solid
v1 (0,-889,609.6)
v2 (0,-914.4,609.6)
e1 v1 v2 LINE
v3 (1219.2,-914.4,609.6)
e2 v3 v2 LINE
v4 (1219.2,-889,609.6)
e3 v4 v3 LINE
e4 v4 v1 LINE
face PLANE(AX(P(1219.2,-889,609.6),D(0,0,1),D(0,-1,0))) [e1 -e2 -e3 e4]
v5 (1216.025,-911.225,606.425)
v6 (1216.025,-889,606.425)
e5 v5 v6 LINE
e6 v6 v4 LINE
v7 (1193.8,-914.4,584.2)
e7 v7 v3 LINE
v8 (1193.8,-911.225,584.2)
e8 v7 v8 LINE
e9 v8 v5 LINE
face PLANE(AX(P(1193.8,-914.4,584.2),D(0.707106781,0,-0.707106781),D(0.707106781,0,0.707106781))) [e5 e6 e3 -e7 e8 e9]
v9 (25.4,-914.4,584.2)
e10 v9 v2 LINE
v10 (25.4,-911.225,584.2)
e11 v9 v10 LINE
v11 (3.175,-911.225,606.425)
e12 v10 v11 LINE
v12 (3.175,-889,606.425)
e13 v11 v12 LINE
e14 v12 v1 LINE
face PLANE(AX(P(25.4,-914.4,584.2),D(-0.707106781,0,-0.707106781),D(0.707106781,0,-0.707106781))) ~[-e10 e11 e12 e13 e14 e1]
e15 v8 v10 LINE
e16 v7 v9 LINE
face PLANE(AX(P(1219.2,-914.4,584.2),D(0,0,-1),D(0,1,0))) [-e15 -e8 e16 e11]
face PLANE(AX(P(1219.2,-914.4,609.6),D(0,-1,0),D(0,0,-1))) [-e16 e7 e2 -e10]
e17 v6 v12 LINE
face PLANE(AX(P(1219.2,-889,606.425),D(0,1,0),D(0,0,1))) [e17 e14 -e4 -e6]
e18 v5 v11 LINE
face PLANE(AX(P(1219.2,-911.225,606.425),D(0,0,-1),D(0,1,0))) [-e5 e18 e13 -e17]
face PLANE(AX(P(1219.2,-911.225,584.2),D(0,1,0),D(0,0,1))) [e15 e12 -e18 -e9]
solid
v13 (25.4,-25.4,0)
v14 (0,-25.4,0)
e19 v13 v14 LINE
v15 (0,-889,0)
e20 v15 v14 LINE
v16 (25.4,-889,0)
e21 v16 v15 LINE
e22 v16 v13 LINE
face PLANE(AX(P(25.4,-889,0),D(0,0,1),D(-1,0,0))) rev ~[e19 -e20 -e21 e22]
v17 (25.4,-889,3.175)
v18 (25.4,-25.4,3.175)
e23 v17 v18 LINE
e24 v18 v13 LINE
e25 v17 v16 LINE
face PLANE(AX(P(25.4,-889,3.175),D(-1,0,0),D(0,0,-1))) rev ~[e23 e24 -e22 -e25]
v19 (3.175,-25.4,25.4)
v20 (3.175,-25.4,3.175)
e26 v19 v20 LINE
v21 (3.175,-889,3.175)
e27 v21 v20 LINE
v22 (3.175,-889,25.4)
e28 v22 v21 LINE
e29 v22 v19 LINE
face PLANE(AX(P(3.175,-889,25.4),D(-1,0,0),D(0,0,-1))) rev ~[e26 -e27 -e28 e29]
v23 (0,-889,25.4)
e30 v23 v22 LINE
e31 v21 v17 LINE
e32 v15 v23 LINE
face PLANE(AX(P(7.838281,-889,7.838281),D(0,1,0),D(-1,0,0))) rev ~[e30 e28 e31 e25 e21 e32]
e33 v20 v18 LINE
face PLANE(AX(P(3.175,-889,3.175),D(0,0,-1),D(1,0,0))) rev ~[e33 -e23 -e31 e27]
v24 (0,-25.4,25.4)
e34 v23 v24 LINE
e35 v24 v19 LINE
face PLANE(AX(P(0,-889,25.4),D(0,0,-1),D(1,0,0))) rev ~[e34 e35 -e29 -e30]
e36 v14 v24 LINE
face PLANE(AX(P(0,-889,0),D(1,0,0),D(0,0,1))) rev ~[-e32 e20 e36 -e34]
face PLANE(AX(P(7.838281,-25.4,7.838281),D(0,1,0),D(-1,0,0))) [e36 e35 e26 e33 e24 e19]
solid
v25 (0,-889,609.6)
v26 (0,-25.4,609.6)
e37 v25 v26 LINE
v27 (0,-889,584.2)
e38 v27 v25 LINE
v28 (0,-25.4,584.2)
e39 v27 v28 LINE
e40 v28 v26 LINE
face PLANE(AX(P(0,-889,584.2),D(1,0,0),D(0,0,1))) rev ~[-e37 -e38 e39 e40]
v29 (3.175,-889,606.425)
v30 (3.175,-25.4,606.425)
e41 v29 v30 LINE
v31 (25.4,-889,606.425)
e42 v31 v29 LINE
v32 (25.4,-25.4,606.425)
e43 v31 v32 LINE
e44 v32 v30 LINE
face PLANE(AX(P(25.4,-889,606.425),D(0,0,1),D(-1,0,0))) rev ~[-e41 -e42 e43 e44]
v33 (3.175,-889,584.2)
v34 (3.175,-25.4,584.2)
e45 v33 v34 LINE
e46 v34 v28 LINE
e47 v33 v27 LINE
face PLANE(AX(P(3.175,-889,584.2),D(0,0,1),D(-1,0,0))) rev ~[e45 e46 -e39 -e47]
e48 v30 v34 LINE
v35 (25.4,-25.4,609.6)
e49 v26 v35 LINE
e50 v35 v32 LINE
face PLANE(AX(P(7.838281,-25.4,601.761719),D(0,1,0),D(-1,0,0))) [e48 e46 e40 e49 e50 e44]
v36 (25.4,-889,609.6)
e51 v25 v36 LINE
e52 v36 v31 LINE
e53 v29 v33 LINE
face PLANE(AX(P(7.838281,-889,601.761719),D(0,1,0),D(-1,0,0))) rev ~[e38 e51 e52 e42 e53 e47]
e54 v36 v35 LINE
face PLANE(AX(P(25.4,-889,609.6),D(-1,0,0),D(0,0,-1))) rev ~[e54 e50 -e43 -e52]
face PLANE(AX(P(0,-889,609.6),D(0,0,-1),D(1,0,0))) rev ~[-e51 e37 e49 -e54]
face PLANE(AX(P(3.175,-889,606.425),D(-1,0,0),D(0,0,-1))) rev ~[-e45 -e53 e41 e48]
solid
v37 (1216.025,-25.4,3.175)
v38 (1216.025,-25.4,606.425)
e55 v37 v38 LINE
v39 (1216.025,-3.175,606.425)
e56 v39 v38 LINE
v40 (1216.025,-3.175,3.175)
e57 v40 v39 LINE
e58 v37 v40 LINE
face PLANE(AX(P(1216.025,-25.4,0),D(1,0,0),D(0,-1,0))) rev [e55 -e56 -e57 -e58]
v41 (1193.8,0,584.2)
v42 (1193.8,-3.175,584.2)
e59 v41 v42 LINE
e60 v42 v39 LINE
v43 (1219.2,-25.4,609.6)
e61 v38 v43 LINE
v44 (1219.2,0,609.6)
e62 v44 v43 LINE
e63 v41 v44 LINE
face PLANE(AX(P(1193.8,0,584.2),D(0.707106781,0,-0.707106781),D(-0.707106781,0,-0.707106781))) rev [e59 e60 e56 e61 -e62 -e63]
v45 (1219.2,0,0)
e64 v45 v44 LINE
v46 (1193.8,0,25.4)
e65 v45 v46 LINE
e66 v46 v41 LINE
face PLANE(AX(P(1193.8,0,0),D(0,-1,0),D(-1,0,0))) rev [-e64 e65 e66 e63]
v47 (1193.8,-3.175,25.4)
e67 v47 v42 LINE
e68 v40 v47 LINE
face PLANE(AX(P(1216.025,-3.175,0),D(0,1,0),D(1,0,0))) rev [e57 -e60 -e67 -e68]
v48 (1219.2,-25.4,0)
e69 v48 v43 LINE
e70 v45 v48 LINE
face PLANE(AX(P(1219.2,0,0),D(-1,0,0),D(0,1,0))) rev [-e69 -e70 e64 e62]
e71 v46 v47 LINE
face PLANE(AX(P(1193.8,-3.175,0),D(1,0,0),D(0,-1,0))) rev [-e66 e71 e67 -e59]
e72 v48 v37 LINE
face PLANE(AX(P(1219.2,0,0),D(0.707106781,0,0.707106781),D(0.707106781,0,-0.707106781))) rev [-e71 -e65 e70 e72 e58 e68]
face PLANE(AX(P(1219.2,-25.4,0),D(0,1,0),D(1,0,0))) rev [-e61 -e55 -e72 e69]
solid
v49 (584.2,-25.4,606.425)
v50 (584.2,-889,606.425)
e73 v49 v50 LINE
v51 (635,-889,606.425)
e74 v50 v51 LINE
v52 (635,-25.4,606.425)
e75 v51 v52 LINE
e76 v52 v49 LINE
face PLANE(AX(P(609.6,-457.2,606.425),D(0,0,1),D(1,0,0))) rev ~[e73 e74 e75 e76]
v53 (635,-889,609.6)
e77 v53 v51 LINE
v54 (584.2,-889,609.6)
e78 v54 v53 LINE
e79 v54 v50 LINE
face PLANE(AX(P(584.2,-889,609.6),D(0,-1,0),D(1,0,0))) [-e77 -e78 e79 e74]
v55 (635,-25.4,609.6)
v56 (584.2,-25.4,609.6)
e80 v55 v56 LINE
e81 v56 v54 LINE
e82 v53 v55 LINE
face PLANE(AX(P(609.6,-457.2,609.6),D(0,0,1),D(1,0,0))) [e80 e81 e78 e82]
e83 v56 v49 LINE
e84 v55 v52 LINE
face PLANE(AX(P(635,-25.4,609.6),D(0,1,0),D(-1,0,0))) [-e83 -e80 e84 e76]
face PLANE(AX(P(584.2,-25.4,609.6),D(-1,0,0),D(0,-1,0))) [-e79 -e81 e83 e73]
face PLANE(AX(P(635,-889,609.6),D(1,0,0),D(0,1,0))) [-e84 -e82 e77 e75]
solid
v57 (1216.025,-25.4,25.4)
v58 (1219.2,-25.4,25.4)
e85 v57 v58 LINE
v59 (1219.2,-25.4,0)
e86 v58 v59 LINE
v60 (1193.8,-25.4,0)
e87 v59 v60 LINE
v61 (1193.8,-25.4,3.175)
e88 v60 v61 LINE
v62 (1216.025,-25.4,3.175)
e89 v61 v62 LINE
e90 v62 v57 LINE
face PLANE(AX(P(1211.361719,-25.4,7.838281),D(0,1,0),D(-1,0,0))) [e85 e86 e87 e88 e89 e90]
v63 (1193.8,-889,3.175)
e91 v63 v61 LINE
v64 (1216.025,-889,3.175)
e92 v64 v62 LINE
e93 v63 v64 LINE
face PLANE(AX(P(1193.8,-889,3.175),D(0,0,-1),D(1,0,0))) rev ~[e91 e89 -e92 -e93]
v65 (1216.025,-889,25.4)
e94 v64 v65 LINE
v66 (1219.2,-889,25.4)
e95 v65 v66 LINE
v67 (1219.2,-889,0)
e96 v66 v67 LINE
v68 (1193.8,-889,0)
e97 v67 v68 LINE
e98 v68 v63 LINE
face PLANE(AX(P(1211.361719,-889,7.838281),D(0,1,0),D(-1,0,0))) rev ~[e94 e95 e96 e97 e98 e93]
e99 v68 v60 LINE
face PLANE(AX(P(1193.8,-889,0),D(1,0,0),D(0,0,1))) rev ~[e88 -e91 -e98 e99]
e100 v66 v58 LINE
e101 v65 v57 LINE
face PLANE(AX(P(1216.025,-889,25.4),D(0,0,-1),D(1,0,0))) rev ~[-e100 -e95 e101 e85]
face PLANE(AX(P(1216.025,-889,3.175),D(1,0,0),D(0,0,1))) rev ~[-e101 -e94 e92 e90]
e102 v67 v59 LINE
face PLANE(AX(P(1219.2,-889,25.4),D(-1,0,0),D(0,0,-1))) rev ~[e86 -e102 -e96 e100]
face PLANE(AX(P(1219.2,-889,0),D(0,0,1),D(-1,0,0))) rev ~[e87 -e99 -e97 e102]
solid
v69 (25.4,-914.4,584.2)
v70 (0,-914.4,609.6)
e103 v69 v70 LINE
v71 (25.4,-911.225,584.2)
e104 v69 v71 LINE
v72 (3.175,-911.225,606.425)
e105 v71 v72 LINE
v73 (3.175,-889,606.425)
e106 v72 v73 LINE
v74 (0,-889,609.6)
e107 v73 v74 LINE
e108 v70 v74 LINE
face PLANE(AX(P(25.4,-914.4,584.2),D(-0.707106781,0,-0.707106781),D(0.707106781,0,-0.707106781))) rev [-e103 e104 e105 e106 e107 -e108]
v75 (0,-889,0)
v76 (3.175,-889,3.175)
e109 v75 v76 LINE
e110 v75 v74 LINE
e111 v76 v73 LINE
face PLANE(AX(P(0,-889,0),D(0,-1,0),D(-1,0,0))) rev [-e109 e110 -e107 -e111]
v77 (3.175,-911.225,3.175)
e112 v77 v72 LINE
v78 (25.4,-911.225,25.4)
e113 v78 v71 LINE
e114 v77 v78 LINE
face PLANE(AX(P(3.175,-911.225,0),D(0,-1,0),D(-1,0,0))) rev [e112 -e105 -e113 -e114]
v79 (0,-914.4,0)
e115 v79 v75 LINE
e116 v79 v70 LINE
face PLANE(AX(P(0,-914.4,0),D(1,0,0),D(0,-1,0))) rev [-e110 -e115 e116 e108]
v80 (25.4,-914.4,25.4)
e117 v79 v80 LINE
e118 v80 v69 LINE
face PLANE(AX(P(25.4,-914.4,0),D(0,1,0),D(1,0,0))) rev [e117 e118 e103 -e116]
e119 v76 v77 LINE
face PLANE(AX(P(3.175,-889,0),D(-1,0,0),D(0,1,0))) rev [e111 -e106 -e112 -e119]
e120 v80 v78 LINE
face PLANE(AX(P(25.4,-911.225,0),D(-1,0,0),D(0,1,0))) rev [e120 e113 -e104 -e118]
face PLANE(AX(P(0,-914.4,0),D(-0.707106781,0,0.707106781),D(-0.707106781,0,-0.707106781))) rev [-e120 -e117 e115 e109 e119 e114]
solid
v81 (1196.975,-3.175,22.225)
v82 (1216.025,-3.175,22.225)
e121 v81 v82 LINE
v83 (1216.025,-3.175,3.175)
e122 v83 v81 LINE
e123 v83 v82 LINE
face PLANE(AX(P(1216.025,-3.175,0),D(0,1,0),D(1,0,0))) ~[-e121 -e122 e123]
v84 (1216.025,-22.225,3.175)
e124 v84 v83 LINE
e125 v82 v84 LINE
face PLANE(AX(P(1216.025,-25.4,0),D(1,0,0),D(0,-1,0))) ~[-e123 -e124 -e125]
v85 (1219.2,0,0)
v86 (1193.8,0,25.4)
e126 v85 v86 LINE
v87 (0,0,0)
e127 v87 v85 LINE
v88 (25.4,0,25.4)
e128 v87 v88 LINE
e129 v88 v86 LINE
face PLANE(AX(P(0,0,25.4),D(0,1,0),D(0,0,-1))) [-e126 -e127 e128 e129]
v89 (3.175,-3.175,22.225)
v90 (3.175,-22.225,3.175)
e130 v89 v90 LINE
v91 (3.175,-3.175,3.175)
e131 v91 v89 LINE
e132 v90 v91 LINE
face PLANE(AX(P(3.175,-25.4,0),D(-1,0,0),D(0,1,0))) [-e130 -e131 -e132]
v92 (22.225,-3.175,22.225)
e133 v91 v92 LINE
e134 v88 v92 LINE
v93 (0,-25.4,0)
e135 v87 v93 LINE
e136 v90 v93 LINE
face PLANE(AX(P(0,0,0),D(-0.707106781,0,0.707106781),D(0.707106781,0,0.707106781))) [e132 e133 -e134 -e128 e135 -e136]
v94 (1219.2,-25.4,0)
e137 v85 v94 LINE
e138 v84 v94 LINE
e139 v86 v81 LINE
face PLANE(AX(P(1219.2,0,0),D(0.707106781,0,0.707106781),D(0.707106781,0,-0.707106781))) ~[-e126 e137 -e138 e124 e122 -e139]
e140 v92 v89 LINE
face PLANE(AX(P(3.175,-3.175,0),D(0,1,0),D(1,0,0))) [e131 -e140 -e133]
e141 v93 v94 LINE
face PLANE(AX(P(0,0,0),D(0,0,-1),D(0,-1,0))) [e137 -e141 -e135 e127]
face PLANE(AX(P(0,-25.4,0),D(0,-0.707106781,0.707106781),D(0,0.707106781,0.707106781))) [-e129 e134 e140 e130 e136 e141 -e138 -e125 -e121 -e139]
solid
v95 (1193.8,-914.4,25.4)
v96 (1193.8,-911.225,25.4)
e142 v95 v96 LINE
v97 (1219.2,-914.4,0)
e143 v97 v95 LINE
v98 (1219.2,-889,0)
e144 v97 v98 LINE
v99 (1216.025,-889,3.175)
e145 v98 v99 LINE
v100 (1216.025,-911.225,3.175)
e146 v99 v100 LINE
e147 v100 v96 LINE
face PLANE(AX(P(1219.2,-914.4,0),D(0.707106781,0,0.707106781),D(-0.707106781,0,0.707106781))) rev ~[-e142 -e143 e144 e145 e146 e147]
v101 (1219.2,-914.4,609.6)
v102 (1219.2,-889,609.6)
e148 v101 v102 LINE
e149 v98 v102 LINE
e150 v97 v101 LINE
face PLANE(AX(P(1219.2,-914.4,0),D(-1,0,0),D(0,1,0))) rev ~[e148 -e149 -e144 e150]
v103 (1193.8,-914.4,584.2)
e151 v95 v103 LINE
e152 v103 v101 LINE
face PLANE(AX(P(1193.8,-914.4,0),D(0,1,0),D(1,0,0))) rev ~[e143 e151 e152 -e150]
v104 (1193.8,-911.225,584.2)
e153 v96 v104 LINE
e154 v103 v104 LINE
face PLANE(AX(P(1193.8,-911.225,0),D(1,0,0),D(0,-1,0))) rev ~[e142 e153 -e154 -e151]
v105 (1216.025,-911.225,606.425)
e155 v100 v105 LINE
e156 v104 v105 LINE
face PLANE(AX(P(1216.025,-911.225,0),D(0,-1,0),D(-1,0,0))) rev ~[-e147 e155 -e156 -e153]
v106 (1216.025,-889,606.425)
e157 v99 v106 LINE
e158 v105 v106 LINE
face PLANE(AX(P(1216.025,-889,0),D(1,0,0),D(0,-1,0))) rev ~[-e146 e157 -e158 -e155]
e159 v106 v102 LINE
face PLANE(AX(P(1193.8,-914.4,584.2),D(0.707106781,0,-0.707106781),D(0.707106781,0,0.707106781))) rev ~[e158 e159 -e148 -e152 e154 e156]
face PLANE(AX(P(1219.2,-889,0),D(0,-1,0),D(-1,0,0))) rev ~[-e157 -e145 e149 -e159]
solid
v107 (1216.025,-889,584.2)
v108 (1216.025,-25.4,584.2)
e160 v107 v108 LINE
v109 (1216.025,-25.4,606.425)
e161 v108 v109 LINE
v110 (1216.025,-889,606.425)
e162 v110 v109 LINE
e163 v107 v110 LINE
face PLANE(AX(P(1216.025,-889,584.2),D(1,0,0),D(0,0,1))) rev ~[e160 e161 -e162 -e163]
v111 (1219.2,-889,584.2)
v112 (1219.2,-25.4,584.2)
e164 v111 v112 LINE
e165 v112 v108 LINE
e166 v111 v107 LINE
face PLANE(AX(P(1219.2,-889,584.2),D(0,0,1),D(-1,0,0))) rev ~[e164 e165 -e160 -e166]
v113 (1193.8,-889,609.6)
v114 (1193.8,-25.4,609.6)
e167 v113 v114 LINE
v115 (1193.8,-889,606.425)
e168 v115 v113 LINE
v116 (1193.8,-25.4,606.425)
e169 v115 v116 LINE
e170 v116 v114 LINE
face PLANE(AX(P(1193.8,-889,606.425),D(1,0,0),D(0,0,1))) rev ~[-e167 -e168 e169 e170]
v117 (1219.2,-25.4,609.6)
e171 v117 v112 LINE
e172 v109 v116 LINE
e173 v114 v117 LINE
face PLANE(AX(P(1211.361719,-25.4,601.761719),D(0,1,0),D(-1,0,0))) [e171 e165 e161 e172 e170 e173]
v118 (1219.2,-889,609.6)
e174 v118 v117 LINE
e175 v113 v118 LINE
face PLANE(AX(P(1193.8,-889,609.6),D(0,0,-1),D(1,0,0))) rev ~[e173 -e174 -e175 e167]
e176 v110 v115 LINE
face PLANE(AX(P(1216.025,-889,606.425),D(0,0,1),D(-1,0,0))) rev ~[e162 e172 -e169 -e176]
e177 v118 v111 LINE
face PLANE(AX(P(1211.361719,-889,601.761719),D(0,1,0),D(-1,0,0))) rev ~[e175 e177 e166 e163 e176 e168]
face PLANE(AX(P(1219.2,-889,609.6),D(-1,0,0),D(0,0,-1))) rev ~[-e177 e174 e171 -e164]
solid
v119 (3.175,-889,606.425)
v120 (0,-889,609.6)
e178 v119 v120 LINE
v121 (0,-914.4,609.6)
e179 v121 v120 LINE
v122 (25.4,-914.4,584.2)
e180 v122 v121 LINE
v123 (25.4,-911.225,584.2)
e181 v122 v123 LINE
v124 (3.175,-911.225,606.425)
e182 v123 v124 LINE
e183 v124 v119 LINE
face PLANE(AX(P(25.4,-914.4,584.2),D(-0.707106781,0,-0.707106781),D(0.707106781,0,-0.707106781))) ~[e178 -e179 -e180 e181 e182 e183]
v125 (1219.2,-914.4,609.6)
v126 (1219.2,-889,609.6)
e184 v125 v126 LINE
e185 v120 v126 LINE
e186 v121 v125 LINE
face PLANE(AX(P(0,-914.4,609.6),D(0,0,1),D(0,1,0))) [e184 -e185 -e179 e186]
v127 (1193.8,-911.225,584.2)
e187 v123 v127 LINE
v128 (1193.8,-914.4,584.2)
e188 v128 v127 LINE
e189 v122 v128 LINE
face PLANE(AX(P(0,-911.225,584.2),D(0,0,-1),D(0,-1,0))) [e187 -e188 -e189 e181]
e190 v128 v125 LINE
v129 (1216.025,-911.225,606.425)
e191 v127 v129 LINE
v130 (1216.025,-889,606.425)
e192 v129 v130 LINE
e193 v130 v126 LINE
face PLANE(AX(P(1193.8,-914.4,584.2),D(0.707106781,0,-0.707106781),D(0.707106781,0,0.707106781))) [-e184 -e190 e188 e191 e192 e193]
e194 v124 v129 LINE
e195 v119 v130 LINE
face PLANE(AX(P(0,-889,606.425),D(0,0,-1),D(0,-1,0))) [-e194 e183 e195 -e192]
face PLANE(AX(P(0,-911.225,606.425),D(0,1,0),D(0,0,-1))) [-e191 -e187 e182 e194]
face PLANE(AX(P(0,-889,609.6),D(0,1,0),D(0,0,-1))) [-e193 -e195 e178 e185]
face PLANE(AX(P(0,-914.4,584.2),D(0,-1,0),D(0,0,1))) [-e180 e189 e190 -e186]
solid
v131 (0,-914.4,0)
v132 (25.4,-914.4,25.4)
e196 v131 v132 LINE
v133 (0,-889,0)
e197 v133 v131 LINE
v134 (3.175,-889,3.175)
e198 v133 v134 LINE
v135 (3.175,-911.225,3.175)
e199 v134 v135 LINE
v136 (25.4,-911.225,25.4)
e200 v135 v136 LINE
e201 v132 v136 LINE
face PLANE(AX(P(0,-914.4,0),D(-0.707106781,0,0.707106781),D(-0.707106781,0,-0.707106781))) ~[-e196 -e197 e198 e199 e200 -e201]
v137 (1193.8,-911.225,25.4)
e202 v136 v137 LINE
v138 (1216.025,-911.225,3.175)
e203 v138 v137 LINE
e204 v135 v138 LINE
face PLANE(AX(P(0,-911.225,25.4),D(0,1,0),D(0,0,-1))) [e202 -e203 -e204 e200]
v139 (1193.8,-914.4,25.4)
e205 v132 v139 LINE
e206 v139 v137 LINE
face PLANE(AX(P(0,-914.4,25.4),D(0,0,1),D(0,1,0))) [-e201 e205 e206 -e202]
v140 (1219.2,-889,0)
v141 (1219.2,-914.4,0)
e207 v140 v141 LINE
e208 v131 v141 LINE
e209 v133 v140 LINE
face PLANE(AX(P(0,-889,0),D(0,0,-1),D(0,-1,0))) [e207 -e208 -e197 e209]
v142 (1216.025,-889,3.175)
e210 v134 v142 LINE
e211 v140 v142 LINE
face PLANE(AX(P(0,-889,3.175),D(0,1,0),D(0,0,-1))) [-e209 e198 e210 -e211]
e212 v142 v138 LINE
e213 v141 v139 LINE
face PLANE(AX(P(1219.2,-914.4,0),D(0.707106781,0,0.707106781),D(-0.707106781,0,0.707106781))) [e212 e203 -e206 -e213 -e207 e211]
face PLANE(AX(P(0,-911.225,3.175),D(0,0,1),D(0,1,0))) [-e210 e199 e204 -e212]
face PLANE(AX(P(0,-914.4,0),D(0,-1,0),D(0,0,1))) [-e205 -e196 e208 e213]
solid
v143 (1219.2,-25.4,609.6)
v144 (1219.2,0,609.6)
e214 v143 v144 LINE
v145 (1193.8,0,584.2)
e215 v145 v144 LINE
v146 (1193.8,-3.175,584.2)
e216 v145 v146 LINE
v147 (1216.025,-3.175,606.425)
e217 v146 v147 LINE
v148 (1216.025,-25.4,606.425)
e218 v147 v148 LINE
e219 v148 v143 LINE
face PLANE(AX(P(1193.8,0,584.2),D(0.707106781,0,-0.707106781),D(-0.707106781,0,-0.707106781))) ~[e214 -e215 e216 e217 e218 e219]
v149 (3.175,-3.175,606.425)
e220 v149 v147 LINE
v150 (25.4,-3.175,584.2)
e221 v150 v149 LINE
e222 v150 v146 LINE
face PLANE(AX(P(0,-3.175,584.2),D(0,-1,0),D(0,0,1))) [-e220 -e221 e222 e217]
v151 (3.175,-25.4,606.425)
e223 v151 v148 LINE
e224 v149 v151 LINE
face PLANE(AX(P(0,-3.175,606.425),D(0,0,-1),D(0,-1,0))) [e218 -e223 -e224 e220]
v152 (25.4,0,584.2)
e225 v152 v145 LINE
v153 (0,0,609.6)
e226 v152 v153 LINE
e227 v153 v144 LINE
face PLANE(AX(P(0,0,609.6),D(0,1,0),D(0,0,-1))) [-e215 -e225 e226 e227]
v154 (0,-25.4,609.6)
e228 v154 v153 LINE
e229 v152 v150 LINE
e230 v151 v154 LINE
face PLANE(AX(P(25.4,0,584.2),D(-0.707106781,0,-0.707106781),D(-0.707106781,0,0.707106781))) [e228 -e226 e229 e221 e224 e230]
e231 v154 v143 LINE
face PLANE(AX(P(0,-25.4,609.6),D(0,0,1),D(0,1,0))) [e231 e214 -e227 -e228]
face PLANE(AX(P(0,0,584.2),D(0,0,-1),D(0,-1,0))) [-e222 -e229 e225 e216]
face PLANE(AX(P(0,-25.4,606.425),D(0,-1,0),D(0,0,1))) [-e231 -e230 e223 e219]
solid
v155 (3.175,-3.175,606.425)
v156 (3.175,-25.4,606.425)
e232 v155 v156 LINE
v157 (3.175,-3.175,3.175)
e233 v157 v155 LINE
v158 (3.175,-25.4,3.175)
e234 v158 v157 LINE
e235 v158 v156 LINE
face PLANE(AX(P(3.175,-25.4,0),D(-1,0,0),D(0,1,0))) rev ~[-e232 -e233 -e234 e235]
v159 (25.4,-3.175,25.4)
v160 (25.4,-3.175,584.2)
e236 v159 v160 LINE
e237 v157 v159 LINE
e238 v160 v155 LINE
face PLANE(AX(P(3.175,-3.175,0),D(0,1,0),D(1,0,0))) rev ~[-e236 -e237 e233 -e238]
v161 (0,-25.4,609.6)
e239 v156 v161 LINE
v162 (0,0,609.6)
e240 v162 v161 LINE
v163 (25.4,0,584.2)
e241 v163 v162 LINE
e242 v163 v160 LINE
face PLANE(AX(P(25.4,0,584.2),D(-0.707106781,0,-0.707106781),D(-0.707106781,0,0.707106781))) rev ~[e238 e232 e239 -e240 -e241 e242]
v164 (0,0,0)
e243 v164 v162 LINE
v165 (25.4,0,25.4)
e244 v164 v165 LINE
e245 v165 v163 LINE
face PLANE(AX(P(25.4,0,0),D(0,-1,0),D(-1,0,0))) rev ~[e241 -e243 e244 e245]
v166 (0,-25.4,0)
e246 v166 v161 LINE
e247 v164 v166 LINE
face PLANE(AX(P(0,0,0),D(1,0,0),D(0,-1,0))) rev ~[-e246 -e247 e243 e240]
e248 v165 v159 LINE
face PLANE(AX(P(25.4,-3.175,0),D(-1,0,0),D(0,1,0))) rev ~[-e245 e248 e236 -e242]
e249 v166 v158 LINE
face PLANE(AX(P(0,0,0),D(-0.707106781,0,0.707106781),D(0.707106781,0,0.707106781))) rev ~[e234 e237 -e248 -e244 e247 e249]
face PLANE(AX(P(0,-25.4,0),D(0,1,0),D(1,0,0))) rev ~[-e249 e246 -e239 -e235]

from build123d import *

# Parameters (mm, degrees)
F1_DEPTH  = 609.6
F3_DEPTH  = 25.401
F9_DEPTH  = 1219.2
F12_DEPTH = 1219.2
F15_DEPTH = 1219.2
F18_DEPTH = 863.6
F20_DEPTH = 3.175


with BuildPart() as f1:
    # F0 (on Top) → F1 (new body)
    with BuildSketch(Plane.XY):
        Polygon((25.4, 0), (0, 0), (0, -25.4), (3.175, -25.4), (3.175, -3.175), (25.4, -3.175), align=None)
    extrude(amount=F1_DEPTH)

    # F2 (on face) → F3 (cut, through all)
    with BuildSketch(Plane(origin=(0, 0, 0), x_dir=(-1, 0, 0), z_dir=(0, 1, 0))):
        Polygon((-25.4, 584.2), (0, 609.6), (-25.4, 609.6), align=None)
        Polygon((-25.4, 0), (0, 0), (-25.4, 25.4), align=None)
    extrude(amount=-F3_DEPTH, mode=Mode.SUBTRACT)


with BuildPart() as f4_1:
    # F4: instance of F1
    add(f1.part.mirror(Plane(origin=(25.4, -1.5875, 304.8), x_dir=(0, 1, 0), z_dir=(1, 0, 0))))


with BuildPart() as f4_1_1:
    # F5: moved
    add(f4_1.part.moved(Location((1168.4, 0, 0))))


with BuildPart() as f7_1:
    # F7: instance of F1
    add(f1.part.mirror(Plane.XZ.offset(457.2)))


with BuildPart() as f7_2:
    # F7: instance of F4_1
    add(f4_1_1.part.mirror(Plane.XZ.offset(457.2)))


with BuildPart() as f9:
    # F8 (on face) → F9 (new body, through all)
    with BuildSketch(Plane(origin=(0, 0, 0), x_dir=(0, -1, 0), z_dir=(-1, 0, 0))):
        Polygon((25.4, 606.425), (25.4, 609.6), (0, 609.6), (0, 584.2), (3.175, 584.2), (3.175, 606.425), align=None)
    extrude(amount=-F9_DEPTH)

    # F10: cut F4_1, F1
    add(f4_1_1.part, mode=Mode.SUBTRACT)
    add(f1.part, mode=Mode.SUBTRACT)


with BuildPart() as f9b:
    # F8 (on face) → F9, piece 2 (new body, through all)
    with BuildSketch(Plane(origin=(0, 0, 0), x_dir=(0, -1, 0), z_dir=(-1, 0, 0))):
        Polygon((0, 0), (25.4, 0), (0, 25.4), align=None)
    extrude(amount=-F9_DEPTH)

    # F10: cut F4_1, F1
    add(f4_1_1.part, mode=Mode.SUBTRACT)
    add(f1.part, mode=Mode.SUBTRACT)


with BuildPart() as f12:
    # F11 (on face) → F12 (new body, through all)
    with BuildSketch(Plane(origin=(0, 0, 0), x_dir=(0, -1, 0), z_dir=(-1, 0, 0))):
        Polygon((889, 3.175), (889, 0), (914.4, 0), (914.4, 25.4), (911.225, 25.4), (911.225, 3.175), align=None)
    extrude(amount=-F12_DEPTH)

    # F13: cut F7_1, F7_2
    add(f7_1.part, mode=Mode.SUBTRACT)
    add(f7_2.part, mode=Mode.SUBTRACT)


with BuildPart() as f12b:
    # F11 (on face) → F12, piece 2 (new body, through all)
    with BuildSketch(Plane(origin=(0, 0, 0), x_dir=(0, -1, 0), z_dir=(-1, 0, 0))):
        Polygon((914.4, 609.6), (889, 609.6), (889, 606.425), (911.225, 606.425), (911.225, 584.2), (914.4, 584.2), align=None)
    extrude(amount=-F12_DEPTH)

    # F13: cut F7_1, F7_2
    add(f7_1.part, mode=Mode.SUBTRACT)
    add(f7_2.part, mode=Mode.SUBTRACT)


with BuildPart() as f15:
    # F14 (on face) → F15 (new body, through all)
    with BuildSketch(Plane.YZ.offset(1219.2)):
        Polygon((-889, 606.425), (-889, 609.6), (-914.4, 609.6), (-914.4, 584.2), (-911.225, 584.2), (-911.225, 606.425), align=None)
    extrude(amount=-F15_DEPTH)

    # F16: cut F7_2, F7_1
    add(f7_2.part, mode=Mode.SUBTRACT)
    add(f7_1.part, mode=Mode.SUBTRACT)


with BuildPart() as f18:
    # F17 (on face) → F18 (new body, through all)
    with BuildSketch(Plane(origin=(0, -889, 0), x_dir=(-1, 0, 0), z_dir=(0, 1, 0))):
        Polygon((0, 609.6), (-25.4, 609.6), (-25.4, 606.425), (-3.175, 606.425), (-3.175, 584.2), (0, 584.2), align=None)
    extrude(amount=F18_DEPTH)


with BuildPart() as f18b:
    # F17 (on face) → F18, piece 2 (new body, through all)
    with BuildSketch(Plane(origin=(0, -889, 0), x_dir=(-1, 0, 0), z_dir=(0, 1, 0))):
        Polygon((-1193.8, 606.425), (-1193.8, 609.6), (-1219.2, 609.6), (-1219.2, 584.2), (-1216.025, 584.2), (-1216.025, 606.425), align=None)
    extrude(amount=F18_DEPTH)


with BuildPart() as f18c:
    # F17 (on face) → F18, piece 3 (new body, through all)
    with BuildSketch(Plane(origin=(0, -889, 0), x_dir=(-1, 0, 0), z_dir=(0, 1, 0))):
        Polygon((-1219.2, 25.4), (-1219.2, 0), (-1193.8, 0), (-1193.8, 3.175), (-1216.025, 3.175), (-1216.025, 25.4), align=None)
    extrude(amount=F18_DEPTH)


with BuildPart() as f18d:
    # F17 (on face) → F18, piece 4 (new body, through all)
    with BuildSketch(Plane(origin=(0, -889, 0), x_dir=(-1, 0, 0), z_dir=(0, 1, 0))):
        Polygon((-25.4, 0), (0, 0), (0, 25.4), (-3.175, 25.4), (-3.175, 3.175), (-25.4, 3.175), align=None)
    extrude(amount=F18_DEPTH)


with BuildPart() as f20:
    # F19 (on face) → F20 (new body, through all)
    with BuildSketch(Plane.XY.offset(609.6)):
        Polygon((635.0000000003, -25.4), (609.6000000006, -25.4), (584.2000000003, -25.4), (584.2000000003, -889), (635.0000000003, -889), align=None)
    extrude(amount=-F20_DEPTH)


solid = Compound([f1.part, f4_1_1.part, f7_1.part, f7_2.part, f9.part, f9b.part, f12.part, f12b.part, f15.part, f18.part, f18b.part, f18c.part, f18d.part, f20.part])
